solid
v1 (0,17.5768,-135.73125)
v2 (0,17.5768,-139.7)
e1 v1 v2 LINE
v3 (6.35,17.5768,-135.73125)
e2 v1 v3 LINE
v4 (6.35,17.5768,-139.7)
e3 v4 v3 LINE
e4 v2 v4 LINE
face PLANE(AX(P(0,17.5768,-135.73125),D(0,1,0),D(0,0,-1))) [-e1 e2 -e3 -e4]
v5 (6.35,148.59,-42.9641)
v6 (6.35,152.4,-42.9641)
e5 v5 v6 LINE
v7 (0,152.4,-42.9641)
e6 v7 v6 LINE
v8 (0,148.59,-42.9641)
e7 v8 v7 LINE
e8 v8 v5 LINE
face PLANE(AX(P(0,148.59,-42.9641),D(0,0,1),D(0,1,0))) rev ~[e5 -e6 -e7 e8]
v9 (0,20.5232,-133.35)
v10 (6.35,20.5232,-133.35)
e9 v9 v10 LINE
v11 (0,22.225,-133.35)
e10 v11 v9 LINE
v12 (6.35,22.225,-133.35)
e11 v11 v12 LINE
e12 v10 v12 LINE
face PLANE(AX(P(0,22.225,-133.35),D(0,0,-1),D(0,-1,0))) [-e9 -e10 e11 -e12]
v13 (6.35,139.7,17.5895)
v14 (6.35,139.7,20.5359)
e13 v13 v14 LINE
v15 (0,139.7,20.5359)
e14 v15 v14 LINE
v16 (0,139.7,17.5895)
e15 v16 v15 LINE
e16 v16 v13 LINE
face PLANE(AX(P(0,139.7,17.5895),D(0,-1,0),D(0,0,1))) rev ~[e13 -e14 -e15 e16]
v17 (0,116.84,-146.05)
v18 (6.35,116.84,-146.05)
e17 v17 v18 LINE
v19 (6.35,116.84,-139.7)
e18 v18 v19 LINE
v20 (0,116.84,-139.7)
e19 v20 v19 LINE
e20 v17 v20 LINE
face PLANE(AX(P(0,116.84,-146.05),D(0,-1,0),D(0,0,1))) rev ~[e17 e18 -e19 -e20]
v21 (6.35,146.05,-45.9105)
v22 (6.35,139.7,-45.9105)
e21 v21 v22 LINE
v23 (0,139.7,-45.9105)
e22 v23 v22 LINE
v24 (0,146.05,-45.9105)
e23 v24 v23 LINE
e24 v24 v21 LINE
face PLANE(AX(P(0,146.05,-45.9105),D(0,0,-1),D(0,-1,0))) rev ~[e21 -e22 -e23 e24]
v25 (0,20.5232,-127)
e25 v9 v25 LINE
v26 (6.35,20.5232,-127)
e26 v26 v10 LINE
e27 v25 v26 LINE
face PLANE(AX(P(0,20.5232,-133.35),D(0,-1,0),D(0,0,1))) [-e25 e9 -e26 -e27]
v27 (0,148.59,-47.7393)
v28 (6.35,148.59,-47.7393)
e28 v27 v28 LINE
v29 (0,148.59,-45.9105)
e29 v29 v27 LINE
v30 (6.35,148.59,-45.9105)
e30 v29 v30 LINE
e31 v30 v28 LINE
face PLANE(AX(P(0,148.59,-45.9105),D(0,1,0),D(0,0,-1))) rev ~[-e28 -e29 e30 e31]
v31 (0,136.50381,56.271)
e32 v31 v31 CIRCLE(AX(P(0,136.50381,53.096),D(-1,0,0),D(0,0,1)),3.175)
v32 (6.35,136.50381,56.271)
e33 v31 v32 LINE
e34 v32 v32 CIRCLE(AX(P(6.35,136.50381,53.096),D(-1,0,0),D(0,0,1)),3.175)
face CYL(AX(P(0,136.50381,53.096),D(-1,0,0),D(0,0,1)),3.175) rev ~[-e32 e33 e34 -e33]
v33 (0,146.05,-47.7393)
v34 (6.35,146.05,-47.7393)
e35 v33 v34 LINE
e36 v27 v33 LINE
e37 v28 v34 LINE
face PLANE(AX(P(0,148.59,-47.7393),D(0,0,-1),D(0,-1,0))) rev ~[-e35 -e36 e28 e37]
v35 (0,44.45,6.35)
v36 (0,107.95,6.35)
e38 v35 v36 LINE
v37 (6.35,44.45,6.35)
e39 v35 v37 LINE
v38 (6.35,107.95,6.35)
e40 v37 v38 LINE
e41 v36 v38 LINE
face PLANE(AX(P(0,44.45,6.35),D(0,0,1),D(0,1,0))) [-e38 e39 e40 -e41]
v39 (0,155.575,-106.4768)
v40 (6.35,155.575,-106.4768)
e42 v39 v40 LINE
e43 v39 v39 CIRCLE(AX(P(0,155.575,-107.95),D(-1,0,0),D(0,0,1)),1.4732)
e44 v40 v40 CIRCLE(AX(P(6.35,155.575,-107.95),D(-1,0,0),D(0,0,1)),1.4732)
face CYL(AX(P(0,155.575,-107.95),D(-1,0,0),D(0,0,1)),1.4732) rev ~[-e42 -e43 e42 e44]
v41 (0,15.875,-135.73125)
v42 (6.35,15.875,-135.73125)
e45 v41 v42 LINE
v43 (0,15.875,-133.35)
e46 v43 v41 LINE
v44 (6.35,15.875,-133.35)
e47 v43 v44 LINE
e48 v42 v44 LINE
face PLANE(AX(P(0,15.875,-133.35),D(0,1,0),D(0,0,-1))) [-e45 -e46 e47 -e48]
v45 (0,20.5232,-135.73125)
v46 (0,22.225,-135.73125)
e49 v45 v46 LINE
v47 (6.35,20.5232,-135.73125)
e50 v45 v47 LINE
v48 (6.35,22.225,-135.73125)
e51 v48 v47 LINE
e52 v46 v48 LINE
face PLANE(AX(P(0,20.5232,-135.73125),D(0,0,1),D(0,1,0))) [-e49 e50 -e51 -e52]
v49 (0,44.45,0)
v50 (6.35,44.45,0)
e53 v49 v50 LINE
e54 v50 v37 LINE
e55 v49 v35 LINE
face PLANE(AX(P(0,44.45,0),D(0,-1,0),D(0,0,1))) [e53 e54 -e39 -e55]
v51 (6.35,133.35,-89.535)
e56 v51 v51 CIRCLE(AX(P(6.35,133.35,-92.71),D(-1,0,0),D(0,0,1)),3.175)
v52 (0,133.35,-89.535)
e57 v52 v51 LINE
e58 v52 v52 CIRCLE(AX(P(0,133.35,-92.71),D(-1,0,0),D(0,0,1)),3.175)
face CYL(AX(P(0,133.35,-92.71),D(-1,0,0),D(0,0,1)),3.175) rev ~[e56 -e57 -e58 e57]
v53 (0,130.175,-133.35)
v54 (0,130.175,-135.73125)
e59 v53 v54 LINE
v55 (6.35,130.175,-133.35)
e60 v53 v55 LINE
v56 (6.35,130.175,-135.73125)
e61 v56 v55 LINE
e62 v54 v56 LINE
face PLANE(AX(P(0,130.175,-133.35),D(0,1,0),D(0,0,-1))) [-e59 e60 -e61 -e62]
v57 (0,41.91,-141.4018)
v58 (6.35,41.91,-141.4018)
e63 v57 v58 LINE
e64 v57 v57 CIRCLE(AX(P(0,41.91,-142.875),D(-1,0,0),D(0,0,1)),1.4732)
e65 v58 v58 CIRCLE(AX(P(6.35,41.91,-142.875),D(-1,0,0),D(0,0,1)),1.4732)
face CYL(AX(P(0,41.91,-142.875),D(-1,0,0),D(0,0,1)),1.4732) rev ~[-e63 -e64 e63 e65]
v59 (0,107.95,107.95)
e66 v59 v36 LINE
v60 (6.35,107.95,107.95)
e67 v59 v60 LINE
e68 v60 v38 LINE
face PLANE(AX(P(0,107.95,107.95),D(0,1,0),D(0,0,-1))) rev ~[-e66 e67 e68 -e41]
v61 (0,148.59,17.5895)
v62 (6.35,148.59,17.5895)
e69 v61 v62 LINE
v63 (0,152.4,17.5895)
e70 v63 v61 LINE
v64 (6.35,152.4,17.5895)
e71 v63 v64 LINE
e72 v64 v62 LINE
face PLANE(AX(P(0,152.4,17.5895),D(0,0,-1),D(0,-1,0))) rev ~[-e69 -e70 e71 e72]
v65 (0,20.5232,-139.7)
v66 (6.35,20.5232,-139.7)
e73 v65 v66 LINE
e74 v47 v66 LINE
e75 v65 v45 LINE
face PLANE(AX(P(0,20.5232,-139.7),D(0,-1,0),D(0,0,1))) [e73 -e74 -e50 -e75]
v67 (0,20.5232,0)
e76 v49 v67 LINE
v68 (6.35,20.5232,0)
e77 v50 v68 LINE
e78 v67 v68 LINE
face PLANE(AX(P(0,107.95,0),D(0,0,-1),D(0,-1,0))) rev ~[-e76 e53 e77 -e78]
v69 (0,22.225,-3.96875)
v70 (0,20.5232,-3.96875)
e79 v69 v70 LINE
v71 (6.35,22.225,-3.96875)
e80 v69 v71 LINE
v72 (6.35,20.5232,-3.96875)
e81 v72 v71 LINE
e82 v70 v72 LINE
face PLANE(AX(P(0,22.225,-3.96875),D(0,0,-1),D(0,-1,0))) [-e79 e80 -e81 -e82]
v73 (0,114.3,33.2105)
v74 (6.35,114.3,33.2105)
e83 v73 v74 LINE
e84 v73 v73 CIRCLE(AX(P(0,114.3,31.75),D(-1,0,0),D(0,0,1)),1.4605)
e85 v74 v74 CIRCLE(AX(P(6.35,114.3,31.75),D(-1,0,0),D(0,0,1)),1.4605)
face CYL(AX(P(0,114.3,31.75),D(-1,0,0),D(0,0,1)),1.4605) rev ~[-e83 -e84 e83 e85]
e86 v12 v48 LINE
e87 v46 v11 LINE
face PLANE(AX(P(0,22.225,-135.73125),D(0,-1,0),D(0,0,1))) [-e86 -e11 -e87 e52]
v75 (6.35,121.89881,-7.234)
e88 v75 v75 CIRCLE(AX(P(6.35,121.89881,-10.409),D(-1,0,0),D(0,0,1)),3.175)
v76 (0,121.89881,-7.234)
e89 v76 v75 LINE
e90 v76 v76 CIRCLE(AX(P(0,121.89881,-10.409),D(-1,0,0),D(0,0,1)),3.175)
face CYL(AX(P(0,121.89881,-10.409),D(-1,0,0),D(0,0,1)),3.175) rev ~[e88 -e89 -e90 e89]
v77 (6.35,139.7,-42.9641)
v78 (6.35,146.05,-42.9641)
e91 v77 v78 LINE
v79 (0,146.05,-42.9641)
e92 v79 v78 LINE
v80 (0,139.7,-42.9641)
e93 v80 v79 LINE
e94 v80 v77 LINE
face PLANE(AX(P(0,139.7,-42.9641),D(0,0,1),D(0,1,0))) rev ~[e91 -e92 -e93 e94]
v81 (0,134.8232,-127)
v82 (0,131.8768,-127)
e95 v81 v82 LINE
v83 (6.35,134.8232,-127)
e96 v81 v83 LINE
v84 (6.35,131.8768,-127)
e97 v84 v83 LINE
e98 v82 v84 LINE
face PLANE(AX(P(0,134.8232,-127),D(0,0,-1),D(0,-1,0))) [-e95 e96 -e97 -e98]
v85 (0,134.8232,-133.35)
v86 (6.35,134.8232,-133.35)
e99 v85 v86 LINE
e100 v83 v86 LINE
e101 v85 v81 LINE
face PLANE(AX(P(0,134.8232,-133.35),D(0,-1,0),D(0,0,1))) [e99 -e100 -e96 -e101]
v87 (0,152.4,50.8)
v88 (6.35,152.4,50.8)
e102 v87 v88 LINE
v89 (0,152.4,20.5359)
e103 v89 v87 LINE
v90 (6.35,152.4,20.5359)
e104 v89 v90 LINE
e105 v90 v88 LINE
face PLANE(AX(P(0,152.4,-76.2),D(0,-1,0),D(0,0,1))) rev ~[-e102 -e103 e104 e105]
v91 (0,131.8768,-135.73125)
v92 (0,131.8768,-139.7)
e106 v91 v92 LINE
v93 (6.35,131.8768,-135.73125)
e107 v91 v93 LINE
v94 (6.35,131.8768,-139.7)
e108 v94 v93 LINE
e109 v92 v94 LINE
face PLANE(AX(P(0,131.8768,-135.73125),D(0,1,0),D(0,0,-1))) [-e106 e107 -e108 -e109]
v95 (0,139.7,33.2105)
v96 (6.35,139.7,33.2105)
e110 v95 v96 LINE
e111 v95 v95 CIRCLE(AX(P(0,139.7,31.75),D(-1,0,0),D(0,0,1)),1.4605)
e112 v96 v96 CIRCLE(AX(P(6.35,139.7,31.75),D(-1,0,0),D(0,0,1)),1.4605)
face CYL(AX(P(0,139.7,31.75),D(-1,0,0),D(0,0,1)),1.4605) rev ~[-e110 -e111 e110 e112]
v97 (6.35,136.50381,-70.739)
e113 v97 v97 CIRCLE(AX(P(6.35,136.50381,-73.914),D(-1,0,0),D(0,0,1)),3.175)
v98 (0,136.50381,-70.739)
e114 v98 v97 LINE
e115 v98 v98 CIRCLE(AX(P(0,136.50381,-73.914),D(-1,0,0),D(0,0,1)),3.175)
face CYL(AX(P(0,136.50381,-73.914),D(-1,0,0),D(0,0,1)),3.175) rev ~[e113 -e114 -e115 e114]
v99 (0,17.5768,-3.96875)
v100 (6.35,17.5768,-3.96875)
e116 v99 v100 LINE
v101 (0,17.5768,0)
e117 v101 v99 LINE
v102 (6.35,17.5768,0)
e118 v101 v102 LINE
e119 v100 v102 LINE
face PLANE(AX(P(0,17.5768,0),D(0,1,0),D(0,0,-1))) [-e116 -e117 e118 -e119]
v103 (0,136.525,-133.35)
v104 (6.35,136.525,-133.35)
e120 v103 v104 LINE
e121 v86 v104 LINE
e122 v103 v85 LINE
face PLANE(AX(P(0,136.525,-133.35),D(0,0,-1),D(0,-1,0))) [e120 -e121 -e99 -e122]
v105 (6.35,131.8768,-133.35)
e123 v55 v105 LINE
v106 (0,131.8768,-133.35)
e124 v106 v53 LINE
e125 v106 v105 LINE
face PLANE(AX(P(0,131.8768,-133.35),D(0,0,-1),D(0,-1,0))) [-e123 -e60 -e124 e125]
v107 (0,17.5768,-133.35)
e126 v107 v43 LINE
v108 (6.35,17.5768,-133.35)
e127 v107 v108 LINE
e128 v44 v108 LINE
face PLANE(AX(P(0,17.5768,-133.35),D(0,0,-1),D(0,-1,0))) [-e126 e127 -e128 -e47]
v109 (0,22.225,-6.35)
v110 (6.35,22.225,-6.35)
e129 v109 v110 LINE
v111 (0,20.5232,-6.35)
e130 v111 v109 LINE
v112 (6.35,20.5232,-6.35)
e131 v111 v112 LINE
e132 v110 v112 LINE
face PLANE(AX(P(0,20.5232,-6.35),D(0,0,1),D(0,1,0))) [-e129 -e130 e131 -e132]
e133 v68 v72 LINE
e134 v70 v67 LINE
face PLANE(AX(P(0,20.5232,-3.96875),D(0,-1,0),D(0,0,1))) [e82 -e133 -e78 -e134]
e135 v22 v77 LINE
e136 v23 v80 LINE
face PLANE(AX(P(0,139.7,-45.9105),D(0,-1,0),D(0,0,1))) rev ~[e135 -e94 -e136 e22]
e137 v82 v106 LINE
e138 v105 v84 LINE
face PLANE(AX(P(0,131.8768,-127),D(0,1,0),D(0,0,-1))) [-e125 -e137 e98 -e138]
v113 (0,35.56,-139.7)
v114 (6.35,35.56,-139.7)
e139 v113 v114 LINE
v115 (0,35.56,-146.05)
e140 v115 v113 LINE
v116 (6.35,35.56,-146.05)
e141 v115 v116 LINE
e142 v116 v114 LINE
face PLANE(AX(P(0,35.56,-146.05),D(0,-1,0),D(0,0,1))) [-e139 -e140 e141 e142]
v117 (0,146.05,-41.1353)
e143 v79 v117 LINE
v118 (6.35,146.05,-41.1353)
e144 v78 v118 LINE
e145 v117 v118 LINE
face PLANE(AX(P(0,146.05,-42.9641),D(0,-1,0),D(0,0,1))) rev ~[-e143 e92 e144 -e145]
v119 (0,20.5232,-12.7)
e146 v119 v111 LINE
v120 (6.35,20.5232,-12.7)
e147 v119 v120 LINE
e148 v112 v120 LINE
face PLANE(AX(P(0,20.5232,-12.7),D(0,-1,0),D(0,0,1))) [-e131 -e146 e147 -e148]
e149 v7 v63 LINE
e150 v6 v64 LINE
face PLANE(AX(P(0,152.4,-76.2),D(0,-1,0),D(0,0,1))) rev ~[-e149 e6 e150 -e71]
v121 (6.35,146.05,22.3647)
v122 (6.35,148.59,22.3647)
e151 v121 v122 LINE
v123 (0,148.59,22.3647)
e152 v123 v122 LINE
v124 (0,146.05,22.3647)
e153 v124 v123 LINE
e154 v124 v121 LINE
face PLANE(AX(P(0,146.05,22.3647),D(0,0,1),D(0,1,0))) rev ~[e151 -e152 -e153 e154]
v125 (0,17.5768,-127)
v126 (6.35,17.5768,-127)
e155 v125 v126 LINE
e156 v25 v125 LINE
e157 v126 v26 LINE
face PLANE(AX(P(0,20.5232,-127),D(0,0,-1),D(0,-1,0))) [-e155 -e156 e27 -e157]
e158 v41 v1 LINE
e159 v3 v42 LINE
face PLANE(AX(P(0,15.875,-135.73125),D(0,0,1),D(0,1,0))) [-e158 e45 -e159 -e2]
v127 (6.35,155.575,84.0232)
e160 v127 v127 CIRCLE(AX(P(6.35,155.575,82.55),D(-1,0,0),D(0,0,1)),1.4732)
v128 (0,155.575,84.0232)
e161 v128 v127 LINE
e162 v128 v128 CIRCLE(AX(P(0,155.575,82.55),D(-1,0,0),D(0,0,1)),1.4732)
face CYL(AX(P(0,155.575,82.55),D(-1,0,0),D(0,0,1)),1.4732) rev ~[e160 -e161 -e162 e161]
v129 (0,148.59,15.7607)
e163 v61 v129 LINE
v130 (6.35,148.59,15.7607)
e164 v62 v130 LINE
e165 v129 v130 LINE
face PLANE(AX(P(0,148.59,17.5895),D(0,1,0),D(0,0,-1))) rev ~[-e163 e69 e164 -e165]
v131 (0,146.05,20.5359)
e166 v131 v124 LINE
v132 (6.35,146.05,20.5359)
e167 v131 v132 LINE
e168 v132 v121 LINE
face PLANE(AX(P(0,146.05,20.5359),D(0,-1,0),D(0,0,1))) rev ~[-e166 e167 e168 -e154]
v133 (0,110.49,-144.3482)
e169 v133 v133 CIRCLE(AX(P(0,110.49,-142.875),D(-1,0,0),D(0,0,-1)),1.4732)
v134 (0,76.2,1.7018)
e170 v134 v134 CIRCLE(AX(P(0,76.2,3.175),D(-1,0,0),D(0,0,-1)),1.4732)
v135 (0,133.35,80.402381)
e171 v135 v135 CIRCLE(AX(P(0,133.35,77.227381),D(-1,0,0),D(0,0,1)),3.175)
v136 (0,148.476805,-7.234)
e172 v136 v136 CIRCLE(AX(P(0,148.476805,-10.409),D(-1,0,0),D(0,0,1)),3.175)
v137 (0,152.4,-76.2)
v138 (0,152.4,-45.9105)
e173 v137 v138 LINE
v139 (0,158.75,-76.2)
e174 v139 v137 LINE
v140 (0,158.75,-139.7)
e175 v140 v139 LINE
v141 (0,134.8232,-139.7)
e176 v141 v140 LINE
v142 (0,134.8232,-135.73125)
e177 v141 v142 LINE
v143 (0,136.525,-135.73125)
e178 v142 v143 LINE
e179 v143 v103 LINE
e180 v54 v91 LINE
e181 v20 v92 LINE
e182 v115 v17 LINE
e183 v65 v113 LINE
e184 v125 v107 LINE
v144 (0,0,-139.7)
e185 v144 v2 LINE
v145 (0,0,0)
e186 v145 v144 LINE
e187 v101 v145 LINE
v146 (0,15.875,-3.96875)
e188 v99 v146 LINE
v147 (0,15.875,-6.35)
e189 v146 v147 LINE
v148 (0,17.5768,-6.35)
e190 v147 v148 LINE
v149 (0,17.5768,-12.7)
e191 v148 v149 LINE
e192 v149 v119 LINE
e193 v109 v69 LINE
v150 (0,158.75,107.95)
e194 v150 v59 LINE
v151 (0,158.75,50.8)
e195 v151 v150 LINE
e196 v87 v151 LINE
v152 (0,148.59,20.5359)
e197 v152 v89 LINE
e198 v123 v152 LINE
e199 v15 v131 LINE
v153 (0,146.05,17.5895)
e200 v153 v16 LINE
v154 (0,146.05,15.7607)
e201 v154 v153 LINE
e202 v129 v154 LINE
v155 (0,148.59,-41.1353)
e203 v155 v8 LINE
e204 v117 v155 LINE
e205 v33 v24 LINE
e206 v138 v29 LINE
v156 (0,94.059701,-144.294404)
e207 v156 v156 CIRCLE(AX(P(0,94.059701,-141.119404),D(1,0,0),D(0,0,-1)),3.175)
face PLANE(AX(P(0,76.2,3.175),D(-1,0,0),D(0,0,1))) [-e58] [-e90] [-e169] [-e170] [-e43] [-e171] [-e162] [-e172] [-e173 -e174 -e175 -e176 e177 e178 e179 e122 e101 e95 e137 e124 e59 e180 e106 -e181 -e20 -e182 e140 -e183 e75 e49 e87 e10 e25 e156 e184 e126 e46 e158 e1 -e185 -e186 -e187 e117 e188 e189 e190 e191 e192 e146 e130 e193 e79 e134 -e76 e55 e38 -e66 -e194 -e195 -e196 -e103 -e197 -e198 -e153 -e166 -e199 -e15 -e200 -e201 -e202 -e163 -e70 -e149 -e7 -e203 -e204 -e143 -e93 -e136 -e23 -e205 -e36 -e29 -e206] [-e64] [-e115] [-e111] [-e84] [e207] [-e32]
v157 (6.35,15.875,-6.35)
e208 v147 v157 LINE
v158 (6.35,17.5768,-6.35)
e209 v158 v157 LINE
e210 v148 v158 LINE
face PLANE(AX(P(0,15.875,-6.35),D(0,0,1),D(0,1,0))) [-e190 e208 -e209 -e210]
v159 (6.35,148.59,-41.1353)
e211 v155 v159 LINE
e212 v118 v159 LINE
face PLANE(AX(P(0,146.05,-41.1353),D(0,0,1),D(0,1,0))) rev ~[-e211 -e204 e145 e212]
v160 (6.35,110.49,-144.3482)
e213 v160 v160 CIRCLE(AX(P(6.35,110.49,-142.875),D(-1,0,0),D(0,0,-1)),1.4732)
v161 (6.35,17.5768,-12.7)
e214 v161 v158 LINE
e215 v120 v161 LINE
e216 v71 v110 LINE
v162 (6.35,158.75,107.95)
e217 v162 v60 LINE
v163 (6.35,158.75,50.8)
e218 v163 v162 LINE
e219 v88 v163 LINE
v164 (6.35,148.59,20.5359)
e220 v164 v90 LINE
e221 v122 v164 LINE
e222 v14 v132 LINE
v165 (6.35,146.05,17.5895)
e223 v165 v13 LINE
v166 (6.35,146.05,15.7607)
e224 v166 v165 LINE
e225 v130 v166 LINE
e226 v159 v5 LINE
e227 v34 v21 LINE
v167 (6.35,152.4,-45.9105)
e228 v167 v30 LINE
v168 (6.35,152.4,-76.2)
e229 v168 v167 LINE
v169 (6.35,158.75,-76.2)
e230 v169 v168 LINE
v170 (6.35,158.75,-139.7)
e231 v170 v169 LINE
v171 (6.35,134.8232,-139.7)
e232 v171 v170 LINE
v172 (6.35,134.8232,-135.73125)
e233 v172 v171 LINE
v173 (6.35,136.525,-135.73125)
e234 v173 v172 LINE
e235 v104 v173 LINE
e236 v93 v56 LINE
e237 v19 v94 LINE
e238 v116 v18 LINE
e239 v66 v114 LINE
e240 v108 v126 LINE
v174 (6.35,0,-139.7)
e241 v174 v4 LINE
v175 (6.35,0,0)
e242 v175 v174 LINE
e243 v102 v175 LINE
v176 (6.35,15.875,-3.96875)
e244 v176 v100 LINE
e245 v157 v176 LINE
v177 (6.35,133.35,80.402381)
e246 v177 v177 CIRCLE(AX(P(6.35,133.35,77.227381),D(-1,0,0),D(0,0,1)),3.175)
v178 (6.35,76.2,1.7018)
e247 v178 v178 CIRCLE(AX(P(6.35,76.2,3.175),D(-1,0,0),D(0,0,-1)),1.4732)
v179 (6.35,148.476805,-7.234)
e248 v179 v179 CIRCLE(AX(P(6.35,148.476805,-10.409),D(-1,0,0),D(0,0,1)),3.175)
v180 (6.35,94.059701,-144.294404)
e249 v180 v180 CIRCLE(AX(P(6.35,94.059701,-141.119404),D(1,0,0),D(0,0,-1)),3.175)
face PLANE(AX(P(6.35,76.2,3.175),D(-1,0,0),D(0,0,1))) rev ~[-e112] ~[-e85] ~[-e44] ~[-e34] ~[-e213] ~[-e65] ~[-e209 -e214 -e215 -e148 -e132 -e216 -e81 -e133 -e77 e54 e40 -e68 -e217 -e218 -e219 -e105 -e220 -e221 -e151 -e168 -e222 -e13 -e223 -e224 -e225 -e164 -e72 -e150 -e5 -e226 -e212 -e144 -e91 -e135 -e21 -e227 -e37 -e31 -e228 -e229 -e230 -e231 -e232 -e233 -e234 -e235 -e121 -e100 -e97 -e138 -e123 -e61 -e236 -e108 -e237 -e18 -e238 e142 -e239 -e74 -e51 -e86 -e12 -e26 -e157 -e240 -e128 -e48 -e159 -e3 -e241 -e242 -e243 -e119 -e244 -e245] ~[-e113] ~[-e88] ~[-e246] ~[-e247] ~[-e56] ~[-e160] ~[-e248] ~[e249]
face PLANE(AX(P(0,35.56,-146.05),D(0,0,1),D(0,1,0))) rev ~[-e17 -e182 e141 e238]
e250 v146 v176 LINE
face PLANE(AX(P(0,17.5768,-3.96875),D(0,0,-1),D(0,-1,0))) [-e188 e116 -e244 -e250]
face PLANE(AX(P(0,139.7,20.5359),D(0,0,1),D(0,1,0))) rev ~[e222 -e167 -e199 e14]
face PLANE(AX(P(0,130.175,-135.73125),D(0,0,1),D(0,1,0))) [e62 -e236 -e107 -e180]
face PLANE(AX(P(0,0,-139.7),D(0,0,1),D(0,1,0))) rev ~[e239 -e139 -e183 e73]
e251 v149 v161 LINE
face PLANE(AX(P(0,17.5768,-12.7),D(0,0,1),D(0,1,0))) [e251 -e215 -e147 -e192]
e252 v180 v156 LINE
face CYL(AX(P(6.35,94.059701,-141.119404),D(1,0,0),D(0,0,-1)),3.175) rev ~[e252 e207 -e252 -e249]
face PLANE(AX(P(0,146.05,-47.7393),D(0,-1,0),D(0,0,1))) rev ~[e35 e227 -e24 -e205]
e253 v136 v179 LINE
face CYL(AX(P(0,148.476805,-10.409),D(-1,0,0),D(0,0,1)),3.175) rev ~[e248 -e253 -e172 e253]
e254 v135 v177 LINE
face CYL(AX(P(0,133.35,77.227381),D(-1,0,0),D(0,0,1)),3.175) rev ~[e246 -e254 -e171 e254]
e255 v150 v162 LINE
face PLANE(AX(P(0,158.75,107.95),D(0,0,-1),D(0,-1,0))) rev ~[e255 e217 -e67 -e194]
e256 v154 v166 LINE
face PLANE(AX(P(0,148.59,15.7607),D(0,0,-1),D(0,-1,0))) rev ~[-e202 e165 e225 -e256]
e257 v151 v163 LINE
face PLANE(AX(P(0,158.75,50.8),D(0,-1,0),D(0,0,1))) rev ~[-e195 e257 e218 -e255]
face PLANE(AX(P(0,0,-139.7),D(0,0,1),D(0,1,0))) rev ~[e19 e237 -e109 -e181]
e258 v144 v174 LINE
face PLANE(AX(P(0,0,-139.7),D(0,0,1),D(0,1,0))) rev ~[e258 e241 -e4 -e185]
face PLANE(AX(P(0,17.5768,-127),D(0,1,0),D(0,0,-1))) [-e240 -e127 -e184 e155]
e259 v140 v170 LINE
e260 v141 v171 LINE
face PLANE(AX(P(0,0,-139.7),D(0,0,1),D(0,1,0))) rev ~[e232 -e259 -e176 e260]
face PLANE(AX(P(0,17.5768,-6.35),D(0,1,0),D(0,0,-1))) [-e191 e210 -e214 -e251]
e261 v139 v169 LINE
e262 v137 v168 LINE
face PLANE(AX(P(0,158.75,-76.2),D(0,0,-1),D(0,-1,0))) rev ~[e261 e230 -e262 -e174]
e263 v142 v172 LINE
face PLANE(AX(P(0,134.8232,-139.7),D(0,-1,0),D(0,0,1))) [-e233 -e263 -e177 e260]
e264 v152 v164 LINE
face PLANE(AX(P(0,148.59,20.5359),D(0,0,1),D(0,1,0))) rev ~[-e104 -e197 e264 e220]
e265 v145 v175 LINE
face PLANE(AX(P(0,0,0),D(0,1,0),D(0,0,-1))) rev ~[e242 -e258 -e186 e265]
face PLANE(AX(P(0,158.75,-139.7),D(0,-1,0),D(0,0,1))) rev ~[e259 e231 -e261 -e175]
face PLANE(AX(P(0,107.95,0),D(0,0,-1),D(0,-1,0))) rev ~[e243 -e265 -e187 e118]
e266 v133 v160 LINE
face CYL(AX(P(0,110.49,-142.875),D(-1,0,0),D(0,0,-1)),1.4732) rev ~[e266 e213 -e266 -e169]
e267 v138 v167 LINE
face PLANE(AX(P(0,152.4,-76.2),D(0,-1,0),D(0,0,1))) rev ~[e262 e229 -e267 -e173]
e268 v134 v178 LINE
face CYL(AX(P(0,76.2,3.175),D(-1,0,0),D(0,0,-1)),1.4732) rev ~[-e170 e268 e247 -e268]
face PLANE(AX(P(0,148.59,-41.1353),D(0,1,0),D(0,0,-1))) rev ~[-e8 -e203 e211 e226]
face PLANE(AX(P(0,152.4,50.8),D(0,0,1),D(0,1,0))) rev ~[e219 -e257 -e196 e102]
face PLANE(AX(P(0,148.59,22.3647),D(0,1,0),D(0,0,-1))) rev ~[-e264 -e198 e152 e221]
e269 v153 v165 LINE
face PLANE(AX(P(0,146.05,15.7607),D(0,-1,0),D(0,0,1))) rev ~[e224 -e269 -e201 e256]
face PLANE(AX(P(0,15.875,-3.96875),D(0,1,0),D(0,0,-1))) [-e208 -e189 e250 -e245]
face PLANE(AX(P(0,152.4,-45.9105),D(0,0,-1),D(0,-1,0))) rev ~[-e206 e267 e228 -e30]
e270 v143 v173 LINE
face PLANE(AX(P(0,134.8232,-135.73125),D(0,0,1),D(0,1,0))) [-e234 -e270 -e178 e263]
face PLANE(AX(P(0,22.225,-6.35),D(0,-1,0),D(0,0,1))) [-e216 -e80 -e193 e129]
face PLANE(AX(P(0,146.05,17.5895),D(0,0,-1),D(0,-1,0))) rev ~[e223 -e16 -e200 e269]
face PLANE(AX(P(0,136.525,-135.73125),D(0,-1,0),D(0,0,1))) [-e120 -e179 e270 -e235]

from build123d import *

# Parameters (mm, degrees)
BOSS_EXTRUDE1_DEPTH = 6.35
CUT_EXTRUDE1_DEPTH  = 212.560806862
SKETCH4_W           = 6.35
SKETCH4_H           = 63.5
SKETCH4_H_2         = 81.28
BOSS_EXTRUDE3_DEPTH = 6.35
SKETCH5_R           = 1.4732
CUT_EXTRUDE2_DEPTH  = 216.806597443
SKETCH6_R           = 3.175
SKETCH6_R_2         = 1.4732
CUT_EXTRUDE3_DEPTH  = 216.806597443
CUT_EXTRUDE4_REACH  = 217.807
SKETCH7_R           = 3.175
SKETCH8_R           = 1.4605
CUT_EXTRUDE5_DEPTH  = 216.806597443


with BuildPart() as part:
    # Sketch1 → Boss-Extrude1 (new body)
    with BuildSketch(Plane(origin=(0, 0, 0), x_dir=(0, 0, -1), z_dir=(1, 0, 0))):
        Polygon((0, 0), (139.7, 0), (139.7, 158.75), (76.2, 158.75), (76.2, 152.4), (0, 152.4), (-50.8, 152.4), (-50.8, 158.75), (-107.95, 158.75), (-107.95, 107.95), (0, 107.95), align=None)
    extrude(amount=BOSS_EXTRUDE1_DEPTH)

    # Sketch2 → Cut-Extrude1 (cut, through all)
    with BuildSketch(Plane.ZY):
        Polygon((0, 17.5768), (-3.96875, 17.5768), (-3.96875, 15.875), (-6.35, 15.875), (-6.35, 17.5768), (-12.7, 17.5768), (-12.7, 20.5232), (-6.35, 20.5232), (-6.35, 22.225), (-3.96875, 22.225), (-3.96875, 20.5232), (0, 20.5232), align=None)
        Polygon((-139.7, 17.5768), (-139.7, 20.5232), (-135.73125, 20.5232), (-135.73125, 22.225), (-133.35, 22.225), (-133.35, 20.5232), (-127, 20.5232), (-127, 17.5768), (-133.35, 17.5768), (-133.35, 15.875), (-135.73125, 15.875), (-135.73125, 17.5768), align=None)
        Polygon((-133.35, 136.525), (-133.35, 134.8232), (-127, 134.8232), (-127, 131.8768), (-133.35, 131.8768), (-133.35, 130.175), (-135.73125, 130.175), (-135.73125, 131.8768), (-139.7, 131.8768), (-139.7, 134.8232), (-135.73125, 134.8232), (-135.73125, 136.525), align=None)
    extrude(amount=-CUT_EXTRUDE1_DEPTH, mode=Mode.SUBTRACT)

    # Sketch4 → Boss-Extrude3 (add)
    with BuildSketch(Plane.ZY):
        with Locations((3.175, 76.2)):
            Rectangle(SKETCH4_W, SKETCH4_H)
        with Locations((-142.875, 76.2)):
            Rectangle(SKETCH4_W, SKETCH4_H_2)
    extrude(amount=-BOSS_EXTRUDE3_DEPTH)

    # Sketch5 → Cut-Extrude2 (cut, through all)
    with BuildSketch(Plane.ZY):
        with Locations(Location((3.175, 76.2, 0), (0, 0, 180))):
            Circle(SKETCH5_R)
        with Locations((-142.875, 41.91)):
            Circle(SKETCH5_R)
        with Locations(Location((-142.875, 110.49, 0), (0, 0, 180))):
            Circle(SKETCH5_R)
    extrude(amount=-CUT_EXTRUDE2_DEPTH, mode=Mode.SUBTRACT)

    # Sketch6 → Cut-Extrude3 (cut, through all)
    with BuildSketch(Plane.ZY):
        with Locations((-92.71, 133.35)):
            Circle(SKETCH6_R)
        with Locations((-107.95, 155.575)):
            Circle(SKETCH6_R_2)
        with Locations((-73.914, 136.503809764)):
            Circle(SKETCH6_R)
        with Locations((82.55, 155.575)):
            Circle(SKETCH6_R_2)
        with Locations((77.227381395, 133.35)):
            Circle(SKETCH6_R)
        with Locations((53.096, 136.503809756)):
            Circle(SKETCH6_R)
        with Locations((-10.409000001, 121.89880976)):
            Circle(SKETCH6_R)
        with Locations((-10.408999999, 148.476804796)):
            Circle(SKETCH6_R)
        Polygon((-42.9641, 152.4), (-45.9105, 152.4), (-45.9105, 148.59), (-47.7393, 148.59), (-47.7393, 146.05), (-45.9105, 146.05), (-45.9105, 139.7), (-42.9641, 139.7), (-42.9641, 146.05), (-41.1353, 146.05), (-41.1353, 148.59), (-42.9641, 148.59), align=None)
        Polygon((20.5359, 152.4), (17.5895, 152.4), (17.5895, 148.59), (15.7607, 148.59), (15.7607, 146.05), (17.5895, 146.05), (17.5895, 139.7), (20.5359, 139.7), (20.5359, 146.05), (22.3647, 146.05), (22.3647, 148.59), (20.5359, 148.59), align=None)
    extrude(amount=-CUT_EXTRUDE3_DEPTH, mode=Mode.SUBTRACT)

    # Sketch7 → Cut-Extrude4 (cut, up to next)
    with BuildSketch(Plane(origin=(6.35, 0, 0), x_dir=(0, 0, -1), z_dir=(1, 0, 0)), mode=Mode.PRIVATE) as cut_extrude4_sk1:
        with Locations((141.119403898, 94.059701015)):
            Circle(SKETCH7_R)
    cut_extrude4_tool1 = extrude(cut_extrude4_sk1.sketch, amount=-CUT_EXTRUDE4_REACH, mode=Mode.PRIVATE) & part.part
    add(cut_extrude4_tool1.solids().sort_by_distance((6.35, 94.059701, -141.119404))[0], mode=Mode.SUBTRACT)

    # Sketch8 → Cut-Extrude5 (cut, through all)
    with BuildSketch(Plane.ZY):
        with Locations((31.75, 114.3)):
            Circle(SKETCH8_R)
        with Locations((31.75, 139.7)):
            Circle(SKETCH8_R)
    extrude(amount=-CUT_EXTRUDE5_DEPTH, mode=Mode.SUBTRACT)


solid = part.part
